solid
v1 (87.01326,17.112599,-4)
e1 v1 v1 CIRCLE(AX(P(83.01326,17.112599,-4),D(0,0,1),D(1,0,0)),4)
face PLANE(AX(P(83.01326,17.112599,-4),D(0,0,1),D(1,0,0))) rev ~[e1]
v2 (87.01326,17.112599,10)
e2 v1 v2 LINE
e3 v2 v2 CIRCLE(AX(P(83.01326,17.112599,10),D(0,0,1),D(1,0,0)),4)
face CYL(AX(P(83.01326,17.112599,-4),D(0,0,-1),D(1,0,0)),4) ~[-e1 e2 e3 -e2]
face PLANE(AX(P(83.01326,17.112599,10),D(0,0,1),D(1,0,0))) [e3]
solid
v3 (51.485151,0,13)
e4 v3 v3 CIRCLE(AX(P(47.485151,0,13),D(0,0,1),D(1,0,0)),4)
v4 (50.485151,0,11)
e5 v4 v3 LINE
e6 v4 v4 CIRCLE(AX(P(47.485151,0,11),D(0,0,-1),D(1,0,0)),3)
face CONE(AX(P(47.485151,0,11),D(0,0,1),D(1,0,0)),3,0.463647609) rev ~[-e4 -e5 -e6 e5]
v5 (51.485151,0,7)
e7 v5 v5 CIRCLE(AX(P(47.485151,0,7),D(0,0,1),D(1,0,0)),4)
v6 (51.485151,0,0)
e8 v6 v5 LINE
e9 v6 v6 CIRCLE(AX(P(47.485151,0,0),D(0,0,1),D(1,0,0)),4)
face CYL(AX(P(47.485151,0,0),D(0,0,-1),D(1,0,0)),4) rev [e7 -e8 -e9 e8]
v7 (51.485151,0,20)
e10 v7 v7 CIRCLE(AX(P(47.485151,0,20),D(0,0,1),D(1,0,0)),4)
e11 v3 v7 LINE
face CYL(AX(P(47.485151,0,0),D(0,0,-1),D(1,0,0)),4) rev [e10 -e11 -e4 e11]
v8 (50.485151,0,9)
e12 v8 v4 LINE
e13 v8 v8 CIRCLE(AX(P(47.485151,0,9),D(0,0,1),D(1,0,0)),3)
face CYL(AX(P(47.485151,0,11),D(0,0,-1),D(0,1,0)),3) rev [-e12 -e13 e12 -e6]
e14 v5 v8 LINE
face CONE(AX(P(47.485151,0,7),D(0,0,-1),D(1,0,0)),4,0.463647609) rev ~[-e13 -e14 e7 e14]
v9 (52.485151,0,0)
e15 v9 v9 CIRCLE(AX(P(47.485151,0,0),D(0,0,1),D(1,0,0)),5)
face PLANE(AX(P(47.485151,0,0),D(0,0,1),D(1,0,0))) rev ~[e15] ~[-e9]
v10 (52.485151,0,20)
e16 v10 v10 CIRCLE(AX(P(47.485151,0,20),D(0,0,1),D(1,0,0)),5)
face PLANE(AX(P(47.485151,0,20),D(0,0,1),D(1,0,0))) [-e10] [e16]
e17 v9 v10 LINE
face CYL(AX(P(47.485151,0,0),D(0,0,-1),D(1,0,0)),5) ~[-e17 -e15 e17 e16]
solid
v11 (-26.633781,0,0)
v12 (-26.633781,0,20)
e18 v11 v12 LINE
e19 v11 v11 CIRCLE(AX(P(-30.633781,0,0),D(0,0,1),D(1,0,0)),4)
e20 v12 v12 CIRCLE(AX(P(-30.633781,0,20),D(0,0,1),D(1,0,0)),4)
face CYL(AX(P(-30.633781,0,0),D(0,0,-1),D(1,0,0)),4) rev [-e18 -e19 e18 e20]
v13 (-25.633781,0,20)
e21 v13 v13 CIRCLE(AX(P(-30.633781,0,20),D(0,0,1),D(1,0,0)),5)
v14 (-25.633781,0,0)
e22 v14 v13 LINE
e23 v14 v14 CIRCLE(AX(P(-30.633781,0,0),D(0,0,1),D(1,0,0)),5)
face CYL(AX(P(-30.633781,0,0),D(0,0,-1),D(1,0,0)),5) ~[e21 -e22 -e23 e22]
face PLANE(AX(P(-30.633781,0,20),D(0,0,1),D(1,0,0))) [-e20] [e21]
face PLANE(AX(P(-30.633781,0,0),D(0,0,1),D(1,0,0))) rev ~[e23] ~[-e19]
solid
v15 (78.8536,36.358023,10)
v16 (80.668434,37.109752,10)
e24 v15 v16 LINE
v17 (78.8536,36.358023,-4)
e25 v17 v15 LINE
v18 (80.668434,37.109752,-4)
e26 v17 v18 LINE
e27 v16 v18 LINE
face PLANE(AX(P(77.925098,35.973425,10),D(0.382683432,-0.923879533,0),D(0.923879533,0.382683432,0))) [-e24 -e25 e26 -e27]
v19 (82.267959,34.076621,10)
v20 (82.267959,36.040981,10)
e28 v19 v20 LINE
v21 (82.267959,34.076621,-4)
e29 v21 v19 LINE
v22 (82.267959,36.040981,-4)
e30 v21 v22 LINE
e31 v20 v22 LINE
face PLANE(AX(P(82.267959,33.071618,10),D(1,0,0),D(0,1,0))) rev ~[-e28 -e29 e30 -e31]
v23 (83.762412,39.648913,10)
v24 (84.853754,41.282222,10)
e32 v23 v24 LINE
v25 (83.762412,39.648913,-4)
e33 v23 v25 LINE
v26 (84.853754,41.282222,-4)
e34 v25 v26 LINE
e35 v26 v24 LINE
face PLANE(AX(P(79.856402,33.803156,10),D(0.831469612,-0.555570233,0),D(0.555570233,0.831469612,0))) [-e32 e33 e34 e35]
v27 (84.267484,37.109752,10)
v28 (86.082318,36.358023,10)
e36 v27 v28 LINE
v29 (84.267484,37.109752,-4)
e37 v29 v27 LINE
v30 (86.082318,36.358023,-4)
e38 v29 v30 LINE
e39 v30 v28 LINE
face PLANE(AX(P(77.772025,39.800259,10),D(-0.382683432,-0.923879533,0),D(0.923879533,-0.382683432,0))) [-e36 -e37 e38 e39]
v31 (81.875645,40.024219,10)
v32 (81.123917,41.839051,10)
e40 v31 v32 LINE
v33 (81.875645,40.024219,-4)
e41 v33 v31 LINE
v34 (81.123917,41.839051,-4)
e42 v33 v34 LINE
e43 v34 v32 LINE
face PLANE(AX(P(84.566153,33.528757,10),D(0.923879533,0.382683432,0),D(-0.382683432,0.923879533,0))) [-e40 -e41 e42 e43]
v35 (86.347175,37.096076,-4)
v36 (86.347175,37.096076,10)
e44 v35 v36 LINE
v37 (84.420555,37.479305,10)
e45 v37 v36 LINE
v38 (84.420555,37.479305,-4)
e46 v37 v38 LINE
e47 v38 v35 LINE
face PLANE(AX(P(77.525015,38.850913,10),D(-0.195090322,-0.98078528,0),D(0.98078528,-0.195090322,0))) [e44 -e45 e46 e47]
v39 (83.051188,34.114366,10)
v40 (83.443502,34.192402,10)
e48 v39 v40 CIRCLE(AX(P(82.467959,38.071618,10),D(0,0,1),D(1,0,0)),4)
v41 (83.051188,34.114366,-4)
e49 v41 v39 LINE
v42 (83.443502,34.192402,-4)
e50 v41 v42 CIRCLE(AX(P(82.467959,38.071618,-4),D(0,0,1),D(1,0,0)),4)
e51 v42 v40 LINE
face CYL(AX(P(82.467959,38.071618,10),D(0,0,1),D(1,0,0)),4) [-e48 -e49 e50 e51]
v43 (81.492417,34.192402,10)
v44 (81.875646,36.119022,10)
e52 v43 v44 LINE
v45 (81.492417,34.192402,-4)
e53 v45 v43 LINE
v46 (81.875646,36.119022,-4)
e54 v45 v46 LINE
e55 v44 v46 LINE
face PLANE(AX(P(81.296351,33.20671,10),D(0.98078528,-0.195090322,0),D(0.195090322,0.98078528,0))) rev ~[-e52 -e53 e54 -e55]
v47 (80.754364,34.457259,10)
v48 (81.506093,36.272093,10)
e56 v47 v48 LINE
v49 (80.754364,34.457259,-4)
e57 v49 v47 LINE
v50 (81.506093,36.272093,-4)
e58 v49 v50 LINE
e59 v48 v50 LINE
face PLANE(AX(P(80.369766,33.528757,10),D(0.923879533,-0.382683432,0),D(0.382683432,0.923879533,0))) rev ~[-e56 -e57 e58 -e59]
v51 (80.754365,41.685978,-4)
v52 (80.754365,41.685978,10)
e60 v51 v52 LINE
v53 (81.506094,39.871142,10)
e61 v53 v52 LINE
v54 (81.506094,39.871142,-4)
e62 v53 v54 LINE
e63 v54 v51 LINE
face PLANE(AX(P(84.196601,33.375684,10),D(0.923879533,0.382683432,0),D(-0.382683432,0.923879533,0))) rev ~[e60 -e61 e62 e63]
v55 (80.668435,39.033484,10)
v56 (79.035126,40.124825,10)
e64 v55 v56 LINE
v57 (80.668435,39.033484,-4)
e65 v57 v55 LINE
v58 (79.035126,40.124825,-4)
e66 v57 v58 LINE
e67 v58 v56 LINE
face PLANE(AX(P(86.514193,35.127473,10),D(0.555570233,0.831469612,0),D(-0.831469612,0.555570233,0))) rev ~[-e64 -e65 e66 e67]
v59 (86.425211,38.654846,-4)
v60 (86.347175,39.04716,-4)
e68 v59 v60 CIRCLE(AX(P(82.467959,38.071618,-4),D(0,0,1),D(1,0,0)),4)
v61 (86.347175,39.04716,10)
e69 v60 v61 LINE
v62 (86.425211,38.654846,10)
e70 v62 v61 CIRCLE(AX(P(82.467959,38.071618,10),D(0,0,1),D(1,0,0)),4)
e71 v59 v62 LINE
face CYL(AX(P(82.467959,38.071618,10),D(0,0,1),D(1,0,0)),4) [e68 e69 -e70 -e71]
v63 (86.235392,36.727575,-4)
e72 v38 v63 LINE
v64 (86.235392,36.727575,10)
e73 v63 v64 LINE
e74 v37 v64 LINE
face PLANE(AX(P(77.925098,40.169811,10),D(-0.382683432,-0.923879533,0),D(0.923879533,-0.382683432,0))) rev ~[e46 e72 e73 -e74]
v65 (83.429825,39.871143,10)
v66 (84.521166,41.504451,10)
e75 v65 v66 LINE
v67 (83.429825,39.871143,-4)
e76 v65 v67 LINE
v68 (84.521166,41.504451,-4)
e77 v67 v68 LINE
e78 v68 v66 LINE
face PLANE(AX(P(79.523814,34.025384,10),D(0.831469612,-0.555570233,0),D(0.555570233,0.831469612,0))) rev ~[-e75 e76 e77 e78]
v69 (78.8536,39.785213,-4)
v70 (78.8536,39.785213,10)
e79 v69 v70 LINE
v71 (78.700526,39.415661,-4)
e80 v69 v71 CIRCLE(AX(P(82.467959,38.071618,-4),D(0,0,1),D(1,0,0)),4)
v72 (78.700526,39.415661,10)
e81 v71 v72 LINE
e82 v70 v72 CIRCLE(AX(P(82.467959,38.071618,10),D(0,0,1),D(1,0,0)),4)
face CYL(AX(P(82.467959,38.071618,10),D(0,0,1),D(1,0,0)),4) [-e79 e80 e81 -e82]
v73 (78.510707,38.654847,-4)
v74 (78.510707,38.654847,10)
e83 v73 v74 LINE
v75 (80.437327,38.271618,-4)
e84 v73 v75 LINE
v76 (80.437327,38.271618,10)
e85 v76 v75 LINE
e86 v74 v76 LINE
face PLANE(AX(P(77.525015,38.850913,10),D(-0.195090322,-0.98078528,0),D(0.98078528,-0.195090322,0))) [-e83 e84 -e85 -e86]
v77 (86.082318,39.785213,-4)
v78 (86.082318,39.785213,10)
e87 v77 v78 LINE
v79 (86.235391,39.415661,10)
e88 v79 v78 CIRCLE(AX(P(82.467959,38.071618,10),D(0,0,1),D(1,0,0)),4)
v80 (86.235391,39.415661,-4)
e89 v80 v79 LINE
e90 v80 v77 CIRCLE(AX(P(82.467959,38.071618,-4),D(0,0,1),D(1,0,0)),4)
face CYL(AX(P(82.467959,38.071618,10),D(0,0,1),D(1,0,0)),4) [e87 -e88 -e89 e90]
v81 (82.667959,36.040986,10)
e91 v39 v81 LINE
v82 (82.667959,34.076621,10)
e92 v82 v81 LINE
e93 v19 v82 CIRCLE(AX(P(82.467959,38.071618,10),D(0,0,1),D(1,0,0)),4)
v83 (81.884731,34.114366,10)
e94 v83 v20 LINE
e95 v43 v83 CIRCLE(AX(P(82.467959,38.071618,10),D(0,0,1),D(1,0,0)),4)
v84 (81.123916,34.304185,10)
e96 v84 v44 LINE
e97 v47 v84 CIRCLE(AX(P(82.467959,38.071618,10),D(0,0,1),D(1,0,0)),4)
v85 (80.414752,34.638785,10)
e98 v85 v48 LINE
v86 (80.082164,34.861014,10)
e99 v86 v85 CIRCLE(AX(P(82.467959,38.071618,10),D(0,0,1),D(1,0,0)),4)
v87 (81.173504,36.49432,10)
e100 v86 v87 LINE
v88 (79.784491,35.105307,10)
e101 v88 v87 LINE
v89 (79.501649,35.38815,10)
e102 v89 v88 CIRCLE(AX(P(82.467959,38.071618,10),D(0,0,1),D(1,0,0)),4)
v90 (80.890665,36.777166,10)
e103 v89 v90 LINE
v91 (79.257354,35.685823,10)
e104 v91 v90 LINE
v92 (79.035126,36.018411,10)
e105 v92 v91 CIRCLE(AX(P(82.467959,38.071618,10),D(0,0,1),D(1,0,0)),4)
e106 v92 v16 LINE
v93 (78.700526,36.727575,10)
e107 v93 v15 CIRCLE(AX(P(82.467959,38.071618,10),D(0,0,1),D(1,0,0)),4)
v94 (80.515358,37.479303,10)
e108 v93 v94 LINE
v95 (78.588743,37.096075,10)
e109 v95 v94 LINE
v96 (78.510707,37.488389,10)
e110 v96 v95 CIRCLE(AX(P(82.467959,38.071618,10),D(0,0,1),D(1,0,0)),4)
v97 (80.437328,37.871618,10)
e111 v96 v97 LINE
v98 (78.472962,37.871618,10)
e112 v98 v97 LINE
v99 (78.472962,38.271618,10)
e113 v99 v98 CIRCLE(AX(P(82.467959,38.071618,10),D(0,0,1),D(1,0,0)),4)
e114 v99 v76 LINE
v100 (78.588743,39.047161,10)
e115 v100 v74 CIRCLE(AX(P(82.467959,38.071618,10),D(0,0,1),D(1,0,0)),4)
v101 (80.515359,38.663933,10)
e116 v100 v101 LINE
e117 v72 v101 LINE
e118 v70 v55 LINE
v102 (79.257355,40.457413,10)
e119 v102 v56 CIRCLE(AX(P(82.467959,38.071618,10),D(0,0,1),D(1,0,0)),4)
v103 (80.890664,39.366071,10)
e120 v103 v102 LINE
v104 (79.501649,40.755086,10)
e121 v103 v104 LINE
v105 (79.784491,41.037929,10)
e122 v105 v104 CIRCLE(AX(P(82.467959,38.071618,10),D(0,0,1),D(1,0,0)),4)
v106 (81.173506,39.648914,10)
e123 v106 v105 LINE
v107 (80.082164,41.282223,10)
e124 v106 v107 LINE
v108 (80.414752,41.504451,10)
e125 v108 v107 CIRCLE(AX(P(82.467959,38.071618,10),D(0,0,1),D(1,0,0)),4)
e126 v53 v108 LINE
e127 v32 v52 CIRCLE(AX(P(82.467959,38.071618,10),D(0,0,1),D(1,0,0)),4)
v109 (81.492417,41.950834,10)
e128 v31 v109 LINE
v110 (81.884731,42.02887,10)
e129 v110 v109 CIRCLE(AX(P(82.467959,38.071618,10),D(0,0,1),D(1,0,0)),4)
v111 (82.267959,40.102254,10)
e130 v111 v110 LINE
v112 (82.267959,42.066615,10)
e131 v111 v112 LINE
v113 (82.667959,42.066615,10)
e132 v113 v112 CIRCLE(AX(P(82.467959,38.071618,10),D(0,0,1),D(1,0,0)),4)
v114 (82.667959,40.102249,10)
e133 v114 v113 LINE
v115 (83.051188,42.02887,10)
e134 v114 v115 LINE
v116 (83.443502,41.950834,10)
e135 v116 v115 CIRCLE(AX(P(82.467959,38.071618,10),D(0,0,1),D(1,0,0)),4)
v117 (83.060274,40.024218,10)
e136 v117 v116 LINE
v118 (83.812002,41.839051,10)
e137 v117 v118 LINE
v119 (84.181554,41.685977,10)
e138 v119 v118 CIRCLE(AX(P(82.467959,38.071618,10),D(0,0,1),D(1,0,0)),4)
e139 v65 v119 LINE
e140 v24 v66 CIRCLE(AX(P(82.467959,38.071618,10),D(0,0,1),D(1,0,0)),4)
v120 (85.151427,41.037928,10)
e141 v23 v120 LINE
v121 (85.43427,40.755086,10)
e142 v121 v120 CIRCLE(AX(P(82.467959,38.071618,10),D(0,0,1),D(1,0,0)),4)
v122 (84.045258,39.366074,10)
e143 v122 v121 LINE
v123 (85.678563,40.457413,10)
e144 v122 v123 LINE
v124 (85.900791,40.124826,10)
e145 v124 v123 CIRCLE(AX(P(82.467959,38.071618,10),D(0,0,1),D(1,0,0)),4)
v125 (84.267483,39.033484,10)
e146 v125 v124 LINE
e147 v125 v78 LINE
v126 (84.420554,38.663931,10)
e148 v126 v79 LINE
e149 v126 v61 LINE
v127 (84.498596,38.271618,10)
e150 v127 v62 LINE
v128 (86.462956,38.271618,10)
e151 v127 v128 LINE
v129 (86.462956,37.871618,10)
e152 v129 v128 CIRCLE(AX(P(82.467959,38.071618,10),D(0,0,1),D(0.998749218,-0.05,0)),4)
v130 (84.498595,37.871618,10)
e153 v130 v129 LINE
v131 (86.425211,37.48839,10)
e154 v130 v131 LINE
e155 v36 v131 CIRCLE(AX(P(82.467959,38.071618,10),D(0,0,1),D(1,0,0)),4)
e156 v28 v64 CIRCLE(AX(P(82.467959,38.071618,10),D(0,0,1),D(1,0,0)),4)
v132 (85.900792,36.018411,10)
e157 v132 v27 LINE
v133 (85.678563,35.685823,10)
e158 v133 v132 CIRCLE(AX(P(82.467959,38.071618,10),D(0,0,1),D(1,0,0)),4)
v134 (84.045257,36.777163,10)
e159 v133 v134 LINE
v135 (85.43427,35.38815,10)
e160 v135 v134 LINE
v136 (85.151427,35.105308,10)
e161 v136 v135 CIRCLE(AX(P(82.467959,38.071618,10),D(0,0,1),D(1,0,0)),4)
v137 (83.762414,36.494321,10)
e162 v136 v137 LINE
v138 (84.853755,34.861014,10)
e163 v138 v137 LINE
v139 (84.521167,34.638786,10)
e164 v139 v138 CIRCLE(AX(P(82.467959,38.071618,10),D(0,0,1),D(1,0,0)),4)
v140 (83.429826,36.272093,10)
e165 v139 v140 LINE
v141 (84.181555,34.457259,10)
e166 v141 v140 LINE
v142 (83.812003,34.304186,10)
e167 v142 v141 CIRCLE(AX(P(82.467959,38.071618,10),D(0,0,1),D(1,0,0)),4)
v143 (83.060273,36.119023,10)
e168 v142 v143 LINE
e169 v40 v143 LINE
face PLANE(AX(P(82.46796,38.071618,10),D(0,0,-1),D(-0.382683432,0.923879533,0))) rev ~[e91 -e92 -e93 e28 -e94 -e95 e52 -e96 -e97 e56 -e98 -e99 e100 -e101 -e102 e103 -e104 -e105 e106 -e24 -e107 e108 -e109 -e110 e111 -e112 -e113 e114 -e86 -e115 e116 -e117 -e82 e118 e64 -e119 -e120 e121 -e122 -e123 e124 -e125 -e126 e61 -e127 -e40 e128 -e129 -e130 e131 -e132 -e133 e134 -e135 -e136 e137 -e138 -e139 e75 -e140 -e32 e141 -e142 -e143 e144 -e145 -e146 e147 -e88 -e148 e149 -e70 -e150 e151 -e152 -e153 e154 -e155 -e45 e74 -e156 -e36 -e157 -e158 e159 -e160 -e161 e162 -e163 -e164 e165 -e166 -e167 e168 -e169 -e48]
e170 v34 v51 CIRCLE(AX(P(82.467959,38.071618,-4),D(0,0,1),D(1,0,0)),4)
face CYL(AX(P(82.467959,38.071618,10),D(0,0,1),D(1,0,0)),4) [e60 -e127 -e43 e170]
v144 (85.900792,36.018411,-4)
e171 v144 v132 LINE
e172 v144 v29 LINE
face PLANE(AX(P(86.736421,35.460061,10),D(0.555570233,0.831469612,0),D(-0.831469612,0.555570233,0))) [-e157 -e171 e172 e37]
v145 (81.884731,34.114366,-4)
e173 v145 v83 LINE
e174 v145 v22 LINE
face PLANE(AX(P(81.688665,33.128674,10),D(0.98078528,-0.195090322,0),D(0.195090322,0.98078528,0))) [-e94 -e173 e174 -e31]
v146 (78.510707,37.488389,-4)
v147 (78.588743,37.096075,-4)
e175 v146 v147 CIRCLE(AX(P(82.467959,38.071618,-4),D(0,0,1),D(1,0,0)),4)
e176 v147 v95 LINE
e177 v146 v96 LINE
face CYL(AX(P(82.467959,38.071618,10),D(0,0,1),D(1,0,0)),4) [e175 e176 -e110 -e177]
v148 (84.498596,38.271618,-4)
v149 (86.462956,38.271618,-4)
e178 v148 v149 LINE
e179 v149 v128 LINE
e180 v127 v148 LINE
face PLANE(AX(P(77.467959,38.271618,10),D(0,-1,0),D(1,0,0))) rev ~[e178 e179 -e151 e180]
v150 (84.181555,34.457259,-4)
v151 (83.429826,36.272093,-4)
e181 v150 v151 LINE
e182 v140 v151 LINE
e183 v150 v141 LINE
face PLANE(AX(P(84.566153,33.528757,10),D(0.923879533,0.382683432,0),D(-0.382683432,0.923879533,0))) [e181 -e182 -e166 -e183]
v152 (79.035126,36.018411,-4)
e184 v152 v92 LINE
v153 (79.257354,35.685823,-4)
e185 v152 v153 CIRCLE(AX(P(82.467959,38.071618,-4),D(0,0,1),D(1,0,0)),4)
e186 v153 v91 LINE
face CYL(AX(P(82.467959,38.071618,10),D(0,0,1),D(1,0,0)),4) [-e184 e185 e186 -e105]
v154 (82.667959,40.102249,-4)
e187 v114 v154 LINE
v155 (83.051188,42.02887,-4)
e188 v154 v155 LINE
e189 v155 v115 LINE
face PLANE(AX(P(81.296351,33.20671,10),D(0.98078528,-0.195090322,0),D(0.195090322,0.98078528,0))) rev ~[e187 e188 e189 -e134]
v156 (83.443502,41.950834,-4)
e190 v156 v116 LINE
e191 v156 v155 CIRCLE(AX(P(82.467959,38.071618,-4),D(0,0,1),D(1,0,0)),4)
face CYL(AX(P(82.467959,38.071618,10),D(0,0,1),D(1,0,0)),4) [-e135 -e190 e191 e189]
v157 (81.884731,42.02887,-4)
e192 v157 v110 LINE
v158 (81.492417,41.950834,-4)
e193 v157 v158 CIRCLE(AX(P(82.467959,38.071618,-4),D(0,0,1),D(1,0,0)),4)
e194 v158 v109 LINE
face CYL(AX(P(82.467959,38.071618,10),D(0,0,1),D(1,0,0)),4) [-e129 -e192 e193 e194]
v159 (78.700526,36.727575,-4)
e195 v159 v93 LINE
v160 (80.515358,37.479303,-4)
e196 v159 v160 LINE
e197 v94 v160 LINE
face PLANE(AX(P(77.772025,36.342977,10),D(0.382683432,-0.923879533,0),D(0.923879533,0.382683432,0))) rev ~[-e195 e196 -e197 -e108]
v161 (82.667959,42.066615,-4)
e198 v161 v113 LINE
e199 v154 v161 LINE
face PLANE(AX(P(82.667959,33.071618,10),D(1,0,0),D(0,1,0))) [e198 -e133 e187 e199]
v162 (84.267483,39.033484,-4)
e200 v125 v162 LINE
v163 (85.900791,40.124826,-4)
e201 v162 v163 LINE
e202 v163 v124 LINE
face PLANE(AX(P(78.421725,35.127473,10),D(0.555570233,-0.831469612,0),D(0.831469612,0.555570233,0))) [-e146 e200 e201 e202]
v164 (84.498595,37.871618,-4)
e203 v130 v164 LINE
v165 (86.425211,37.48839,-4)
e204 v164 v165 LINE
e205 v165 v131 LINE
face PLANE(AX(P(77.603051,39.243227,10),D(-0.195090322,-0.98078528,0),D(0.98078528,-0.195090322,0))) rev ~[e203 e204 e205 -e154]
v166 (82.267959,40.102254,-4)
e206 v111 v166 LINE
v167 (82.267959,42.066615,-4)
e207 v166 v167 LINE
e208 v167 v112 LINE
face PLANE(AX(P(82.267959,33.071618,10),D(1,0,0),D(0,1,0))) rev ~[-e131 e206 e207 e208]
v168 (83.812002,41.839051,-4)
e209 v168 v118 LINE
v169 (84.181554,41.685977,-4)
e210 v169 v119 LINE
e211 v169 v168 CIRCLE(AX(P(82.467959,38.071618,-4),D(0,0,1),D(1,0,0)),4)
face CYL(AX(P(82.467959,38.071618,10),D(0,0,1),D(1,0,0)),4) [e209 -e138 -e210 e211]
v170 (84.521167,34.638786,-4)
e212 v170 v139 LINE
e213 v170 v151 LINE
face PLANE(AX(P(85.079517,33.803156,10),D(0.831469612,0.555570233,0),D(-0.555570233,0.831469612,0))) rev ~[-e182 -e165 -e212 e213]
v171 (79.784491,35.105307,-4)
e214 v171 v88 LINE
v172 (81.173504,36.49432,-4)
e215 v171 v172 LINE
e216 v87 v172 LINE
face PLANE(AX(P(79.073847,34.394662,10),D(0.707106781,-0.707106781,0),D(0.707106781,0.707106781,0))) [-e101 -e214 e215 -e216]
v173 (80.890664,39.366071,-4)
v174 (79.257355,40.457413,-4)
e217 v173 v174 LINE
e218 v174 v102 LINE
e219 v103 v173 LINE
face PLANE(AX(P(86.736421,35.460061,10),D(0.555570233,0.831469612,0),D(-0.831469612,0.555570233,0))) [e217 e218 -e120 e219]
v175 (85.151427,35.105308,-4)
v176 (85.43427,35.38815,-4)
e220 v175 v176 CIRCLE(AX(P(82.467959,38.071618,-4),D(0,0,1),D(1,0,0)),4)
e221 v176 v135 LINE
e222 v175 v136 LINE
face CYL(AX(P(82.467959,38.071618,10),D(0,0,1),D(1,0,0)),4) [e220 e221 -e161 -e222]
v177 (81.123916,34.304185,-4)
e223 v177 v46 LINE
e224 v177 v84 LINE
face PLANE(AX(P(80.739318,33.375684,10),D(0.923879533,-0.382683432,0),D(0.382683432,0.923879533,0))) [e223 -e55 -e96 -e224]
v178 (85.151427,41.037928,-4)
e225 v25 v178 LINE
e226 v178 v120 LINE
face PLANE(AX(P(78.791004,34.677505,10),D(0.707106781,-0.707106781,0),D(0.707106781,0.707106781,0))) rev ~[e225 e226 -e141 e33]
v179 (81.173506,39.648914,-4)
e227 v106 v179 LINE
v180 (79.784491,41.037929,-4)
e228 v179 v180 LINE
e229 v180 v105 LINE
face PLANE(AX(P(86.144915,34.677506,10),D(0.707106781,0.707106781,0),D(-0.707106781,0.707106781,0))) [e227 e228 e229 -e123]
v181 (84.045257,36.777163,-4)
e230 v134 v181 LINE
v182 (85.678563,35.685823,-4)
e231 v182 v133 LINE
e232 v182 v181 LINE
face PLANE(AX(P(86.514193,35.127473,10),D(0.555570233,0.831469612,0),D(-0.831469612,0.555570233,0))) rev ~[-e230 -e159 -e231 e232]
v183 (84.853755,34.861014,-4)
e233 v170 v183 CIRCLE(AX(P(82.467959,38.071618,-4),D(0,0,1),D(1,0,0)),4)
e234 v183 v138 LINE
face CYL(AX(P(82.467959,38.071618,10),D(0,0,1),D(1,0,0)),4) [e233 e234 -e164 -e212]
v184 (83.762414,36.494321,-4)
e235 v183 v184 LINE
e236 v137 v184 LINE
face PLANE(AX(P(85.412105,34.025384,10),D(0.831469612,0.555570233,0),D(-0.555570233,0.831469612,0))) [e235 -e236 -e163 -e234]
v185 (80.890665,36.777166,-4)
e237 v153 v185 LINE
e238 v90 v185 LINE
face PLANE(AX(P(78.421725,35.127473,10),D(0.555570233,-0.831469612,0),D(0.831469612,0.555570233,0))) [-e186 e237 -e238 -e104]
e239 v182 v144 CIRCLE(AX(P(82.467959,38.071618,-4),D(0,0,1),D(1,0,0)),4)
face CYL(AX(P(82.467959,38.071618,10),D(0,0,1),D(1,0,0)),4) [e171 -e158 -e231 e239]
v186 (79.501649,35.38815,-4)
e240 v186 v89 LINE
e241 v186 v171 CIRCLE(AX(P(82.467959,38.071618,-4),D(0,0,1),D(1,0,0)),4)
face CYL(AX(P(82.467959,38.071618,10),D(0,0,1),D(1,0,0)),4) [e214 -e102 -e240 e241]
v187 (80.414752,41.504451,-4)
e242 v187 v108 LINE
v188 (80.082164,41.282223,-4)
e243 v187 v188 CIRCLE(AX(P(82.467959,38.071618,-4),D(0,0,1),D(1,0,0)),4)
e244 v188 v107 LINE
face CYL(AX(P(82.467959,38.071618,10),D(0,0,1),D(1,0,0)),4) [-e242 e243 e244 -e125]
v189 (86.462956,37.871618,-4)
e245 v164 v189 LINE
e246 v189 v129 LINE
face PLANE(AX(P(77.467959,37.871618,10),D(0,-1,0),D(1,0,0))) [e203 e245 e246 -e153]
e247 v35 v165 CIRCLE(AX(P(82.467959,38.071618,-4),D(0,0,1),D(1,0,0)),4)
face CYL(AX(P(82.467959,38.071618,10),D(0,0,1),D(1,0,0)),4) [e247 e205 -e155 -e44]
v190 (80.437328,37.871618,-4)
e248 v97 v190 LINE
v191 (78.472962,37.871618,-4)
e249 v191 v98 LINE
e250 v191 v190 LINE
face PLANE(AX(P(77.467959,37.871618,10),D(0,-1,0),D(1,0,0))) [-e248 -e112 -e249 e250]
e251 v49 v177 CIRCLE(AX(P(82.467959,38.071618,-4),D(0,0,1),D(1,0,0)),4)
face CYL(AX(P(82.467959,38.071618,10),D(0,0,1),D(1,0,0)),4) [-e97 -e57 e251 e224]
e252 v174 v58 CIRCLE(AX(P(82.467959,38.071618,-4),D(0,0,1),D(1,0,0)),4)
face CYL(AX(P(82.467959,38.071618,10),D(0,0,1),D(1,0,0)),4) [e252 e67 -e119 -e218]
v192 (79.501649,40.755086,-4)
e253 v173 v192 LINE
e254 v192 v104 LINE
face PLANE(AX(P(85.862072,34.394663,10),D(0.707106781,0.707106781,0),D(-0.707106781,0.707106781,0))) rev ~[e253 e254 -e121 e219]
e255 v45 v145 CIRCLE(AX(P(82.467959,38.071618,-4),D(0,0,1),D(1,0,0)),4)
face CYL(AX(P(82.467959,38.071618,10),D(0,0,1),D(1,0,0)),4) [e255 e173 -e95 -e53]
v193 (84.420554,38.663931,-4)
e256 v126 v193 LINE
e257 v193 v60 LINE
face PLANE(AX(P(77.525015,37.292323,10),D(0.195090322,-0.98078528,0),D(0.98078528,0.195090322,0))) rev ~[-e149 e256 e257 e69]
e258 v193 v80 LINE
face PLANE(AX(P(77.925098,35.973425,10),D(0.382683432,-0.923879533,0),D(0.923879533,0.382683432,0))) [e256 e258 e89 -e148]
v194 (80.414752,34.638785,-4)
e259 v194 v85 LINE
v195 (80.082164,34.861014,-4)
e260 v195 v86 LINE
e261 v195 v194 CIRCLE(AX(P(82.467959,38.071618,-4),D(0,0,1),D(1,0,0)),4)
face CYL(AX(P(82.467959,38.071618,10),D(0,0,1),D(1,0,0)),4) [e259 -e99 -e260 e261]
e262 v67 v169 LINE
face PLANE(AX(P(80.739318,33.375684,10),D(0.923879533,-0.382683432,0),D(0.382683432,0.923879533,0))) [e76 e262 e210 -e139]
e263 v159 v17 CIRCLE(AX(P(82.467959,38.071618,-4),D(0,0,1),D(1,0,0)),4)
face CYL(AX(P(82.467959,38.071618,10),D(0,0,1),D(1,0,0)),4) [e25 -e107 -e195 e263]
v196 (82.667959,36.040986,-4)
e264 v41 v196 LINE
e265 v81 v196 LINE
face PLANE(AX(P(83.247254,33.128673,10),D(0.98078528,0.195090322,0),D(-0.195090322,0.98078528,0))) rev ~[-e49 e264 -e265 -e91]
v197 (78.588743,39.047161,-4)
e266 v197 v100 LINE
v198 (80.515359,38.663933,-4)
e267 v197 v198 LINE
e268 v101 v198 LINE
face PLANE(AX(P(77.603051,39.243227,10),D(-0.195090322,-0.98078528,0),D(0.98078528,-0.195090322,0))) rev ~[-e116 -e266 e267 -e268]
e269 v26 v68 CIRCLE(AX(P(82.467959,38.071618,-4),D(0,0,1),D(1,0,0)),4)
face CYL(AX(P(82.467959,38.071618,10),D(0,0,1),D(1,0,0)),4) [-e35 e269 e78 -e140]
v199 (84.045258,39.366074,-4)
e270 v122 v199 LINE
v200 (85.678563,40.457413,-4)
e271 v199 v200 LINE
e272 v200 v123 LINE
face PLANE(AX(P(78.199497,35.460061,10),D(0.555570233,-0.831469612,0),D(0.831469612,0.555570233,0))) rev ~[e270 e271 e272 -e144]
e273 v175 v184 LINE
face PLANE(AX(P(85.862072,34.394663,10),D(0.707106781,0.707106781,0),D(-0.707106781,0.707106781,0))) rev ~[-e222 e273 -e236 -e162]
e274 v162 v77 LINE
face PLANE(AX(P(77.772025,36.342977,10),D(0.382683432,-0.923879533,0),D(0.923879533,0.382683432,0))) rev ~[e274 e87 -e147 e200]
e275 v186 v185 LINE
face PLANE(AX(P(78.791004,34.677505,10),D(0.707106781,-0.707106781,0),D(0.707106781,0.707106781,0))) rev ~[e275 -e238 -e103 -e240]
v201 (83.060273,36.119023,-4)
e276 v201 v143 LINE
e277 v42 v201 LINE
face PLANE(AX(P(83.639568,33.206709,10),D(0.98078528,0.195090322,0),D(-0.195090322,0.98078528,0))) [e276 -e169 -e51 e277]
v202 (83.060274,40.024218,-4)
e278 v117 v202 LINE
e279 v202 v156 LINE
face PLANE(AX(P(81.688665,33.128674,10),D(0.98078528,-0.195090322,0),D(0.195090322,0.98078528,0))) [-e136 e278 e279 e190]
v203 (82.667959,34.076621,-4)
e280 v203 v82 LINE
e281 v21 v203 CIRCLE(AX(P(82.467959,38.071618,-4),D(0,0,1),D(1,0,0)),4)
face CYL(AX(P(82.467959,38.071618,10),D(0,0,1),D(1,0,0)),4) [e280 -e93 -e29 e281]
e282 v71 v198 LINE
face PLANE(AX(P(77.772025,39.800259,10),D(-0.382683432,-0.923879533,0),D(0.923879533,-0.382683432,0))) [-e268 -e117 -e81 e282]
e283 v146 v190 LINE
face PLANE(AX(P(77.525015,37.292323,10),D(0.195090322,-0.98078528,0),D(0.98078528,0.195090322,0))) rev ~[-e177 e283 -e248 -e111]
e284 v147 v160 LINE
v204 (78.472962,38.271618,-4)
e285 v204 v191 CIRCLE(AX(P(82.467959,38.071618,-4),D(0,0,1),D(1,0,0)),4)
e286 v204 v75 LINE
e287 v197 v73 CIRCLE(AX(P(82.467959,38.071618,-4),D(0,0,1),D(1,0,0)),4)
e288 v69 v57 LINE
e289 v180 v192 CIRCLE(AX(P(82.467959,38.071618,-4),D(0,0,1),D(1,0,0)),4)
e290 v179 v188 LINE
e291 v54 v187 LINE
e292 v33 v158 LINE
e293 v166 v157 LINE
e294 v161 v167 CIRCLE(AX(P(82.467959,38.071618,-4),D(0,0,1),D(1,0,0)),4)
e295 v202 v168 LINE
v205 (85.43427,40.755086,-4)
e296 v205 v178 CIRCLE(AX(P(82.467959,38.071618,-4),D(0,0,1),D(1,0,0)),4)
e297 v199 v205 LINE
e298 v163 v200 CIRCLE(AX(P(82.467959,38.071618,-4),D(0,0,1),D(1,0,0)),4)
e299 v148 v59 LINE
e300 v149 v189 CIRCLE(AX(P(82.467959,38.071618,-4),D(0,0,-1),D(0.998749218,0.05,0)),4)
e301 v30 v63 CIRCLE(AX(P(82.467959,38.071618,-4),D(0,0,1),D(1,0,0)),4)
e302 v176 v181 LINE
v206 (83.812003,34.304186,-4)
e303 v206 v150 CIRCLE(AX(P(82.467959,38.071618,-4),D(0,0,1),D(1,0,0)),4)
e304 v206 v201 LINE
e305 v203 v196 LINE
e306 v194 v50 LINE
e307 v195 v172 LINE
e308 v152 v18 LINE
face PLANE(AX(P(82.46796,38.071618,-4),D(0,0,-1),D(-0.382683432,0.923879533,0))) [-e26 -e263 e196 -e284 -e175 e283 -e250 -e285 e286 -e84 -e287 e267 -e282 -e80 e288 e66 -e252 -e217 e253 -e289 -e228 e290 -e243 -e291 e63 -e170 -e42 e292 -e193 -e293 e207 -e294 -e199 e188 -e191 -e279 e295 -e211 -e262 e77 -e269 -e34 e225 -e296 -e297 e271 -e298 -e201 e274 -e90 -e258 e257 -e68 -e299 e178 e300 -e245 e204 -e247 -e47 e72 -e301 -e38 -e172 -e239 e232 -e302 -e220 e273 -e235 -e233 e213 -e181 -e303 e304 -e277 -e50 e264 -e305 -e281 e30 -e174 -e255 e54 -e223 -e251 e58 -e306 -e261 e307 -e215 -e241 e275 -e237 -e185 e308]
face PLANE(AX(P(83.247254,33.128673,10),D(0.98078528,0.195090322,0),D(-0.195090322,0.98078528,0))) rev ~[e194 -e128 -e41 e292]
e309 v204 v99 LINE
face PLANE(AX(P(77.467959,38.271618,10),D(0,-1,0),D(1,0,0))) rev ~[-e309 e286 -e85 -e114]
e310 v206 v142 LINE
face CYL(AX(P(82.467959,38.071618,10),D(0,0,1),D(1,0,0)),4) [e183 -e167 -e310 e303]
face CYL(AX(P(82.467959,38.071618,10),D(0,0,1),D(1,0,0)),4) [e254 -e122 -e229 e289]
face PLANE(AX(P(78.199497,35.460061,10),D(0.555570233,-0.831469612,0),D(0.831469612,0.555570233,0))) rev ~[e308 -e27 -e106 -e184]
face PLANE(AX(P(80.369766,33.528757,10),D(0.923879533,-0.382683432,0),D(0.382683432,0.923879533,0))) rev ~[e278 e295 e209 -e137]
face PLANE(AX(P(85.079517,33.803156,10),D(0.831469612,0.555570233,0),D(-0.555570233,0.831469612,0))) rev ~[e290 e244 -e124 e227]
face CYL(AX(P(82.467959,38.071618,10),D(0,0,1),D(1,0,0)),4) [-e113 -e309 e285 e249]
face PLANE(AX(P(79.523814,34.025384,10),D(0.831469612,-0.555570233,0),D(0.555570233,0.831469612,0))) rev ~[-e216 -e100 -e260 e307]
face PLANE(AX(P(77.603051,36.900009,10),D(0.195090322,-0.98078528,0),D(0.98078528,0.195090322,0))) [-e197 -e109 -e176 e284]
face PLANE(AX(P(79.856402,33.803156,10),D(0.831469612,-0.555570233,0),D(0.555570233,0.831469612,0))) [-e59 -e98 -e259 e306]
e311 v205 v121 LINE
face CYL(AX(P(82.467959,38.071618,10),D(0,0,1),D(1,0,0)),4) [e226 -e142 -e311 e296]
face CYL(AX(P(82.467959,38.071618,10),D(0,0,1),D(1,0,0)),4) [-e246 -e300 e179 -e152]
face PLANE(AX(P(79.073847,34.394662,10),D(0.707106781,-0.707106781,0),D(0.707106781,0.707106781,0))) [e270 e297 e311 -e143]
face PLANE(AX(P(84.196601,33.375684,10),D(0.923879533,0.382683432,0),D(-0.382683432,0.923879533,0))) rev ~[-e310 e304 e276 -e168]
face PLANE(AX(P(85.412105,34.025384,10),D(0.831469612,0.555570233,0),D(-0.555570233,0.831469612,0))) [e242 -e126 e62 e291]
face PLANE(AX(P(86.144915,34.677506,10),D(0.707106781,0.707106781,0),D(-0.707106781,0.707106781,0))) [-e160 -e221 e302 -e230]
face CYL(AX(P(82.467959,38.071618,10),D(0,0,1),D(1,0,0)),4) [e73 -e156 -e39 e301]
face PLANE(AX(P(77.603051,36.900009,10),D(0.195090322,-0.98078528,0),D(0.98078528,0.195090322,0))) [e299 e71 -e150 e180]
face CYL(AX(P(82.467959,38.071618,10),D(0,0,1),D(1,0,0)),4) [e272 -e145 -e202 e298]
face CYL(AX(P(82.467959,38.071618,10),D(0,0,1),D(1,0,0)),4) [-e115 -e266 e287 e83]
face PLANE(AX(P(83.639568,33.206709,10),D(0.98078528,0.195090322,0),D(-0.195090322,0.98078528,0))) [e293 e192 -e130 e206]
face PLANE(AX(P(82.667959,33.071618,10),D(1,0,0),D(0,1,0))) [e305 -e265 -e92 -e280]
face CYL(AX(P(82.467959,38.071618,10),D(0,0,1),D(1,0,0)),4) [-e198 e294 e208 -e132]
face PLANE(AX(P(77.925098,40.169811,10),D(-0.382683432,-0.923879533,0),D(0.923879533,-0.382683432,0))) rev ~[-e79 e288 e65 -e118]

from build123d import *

# Parameters (mm, degrees)
CYLINDER_R                                     = 4
CYLINDER_DEPTH                                 = 14
TUBE_R                                         = 5
TUBE_R_2                                       = 4
TUBE_DEPTH                                     = 20
FACE_R                                         = 4
FACE_R_2                                       = 3
EXTRUSION_DEPTH                                = 2
CYLINDER002_R                                  = 3
CYLINDER002_DEPTH                              = 10
CYLINDER001_R                                  = 4
CYLINDER001_DEPTH                              = 4
TUBE001_R                                      = 5
TUBE001_R_2                                    = 4
TUBE001_DEPTH                                  = 20
CIRCLE_R                                       = 4
EXTRUSION017_DEPTH                             = 23.367784
CIRCLE001_R                                    = 11.743192
EXTRUSION018_DEPTH                             = 23.367784
RECTANGLE002_W                                 = 10
RECTANGLE002_H                                 = 0.4
EXTRUSION007_DEPTH                             = 14
RECTANGLE011_AS_DRAWN_W                        = 10
RECTANGLE011_AS_DRAWN_H                        = 0.4
EXTRUSION008_DEPTH                             = 14
EXTRUSION008_ONTO_RECTANGLE011_ROLL_ANGLE      = 180
EXTRUSION008_ONTO_RECTANGLE011_PLACEMENT_ANGLE = 78.75
RECTANGLE006_AS_DRAWN_W                        = 10
RECTANGLE006_AS_DRAWN_H                        = 0.4
EXTRUSION009_DEPTH                             = 14
EXTRUSION009_ONTO_RECTANGLE006_ROLL_ANGLE      = 180
EXTRUSION009_ONTO_RECTANGLE006_PLACEMENT_ANGLE = 67.5
RECTANGLE010_AS_DRAWN_W                        = 10
RECTANGLE010_AS_DRAWN_H                        = 0.4
EXTRUSION010_DEPTH                             = 14
EXTRUSION010_ONTO_RECTANGLE010_ROLL_ANGLE      = 180
EXTRUSION010_ONTO_RECTANGLE010_PLACEMENT_ANGLE = 56.25
RECTANGLE003_AS_DRAWN_W                        = 10
RECTANGLE003_AS_DRAWN_H                        = 0.4
EXTRUSION011_DEPTH                             = 14
EXTRUSION011_ONTO_RECTANGLE003_ROLL_ANGLE      = 180
EXTRUSION011_ONTO_RECTANGLE003_PLACEMENT_ANGLE = 45
RECTANGLE009_AS_DRAWN_W                        = 10
RECTANGLE009_AS_DRAWN_H                        = 0.4
EXTRUSION016_DEPTH                             = 14
EXTRUSION016_ONTO_RECTANGLE009_ROLL_ANGLE      = 180
EXTRUSION016_ONTO_RECTANGLE009_PLACEMENT_ANGLE = 33.75
RECTANGLE005_AS_DRAWN_W                        = 10
RECTANGLE005_AS_DRAWN_H                        = 0.4
EXTRUSION015_DEPTH                             = 14
EXTRUSION015_ONTO_RECTANGLE005_ROLL_ANGLE      = 180
EXTRUSION015_ONTO_RECTANGLE005_PLACEMENT_ANGLE = 22.5
RECTANGLE015_AS_DRAWN_W                        = 10
RECTANGLE015_AS_DRAWN_H                        = 0.4
EXTRUSION014_DEPTH                             = 14
EXTRUSION014_ONTO_RECTANGLE015_ROLL_ANGLE      = 180
EXTRUSION014_ONTO_RECTANGLE015_PLACEMENT_ANGLE = 11.25
RECTANGLE017_W                                 = 10
RECTANGLE017_H                                 = 0.4
EXTRUSION013_DEPTH                             = 14
RECTANGLE016_AS_DRAWN_W                        = 10
RECTANGLE016_AS_DRAWN_H                        = 0.4
EXTRUSION012_DEPTH                             = 14
EXTRUSION012_ONTO_RECTANGLE016_ROLL_ANGLE      = 180
EXTRUSION012_ONTO_RECTANGLE016_PLACEMENT_ANGLE = -11.25
RECTANGLE008_AS_DRAWN_W                        = 10
RECTANGLE008_AS_DRAWN_H                        = 0.4
EXTRUSION001_DEPTH                             = 14
EXTRUSION001_ONTO_RECTANGLE008_ROLL_ANGLE      = 180
EXTRUSION001_ONTO_RECTANGLE008_PLACEMENT_ANGLE = -22.5
RECTANGLE014_AS_DRAWN_W                        = 10
RECTANGLE014_AS_DRAWN_H                        = 0.4
EXTRUSION002_DEPTH                             = 14
EXTRUSION002_ONTO_RECTANGLE014_ROLL_ANGLE      = 180
EXTRUSION002_ONTO_RECTANGLE014_PLACEMENT_ANGLE = 146.25
RECTANGLE004_AS_DRAWN_W                        = 10
RECTANGLE004_AS_DRAWN_H                        = 0.4
EXTRUSION003_DEPTH                             = 14
EXTRUSION003_ONTO_RECTANGLE004_ROLL_ANGLE      = 180
EXTRUSION003_ONTO_RECTANGLE004_PLACEMENT_ANGLE = 135
RECTANGLE013_AS_DRAWN_W                        = 10
RECTANGLE013_AS_DRAWN_H                        = 0.4
EXTRUSION004_DEPTH                             = 14
EXTRUSION004_ONTO_RECTANGLE013_ROLL_ANGLE      = 180
EXTRUSION004_ONTO_RECTANGLE013_PLACEMENT_ANGLE = 123.75
RECTANGLE007_AS_DRAWN_W                        = 10
RECTANGLE007_AS_DRAWN_H                        = 0.4
EXTRUSION005_DEPTH                             = 14
EXTRUSION005_ONTO_RECTANGLE007_ROLL_ANGLE      = 180
EXTRUSION005_ONTO_RECTANGLE007_PLACEMENT_ANGLE = 112.5
RECTANGLE012_AS_DRAWN_W                        = 10
RECTANGLE012_AS_DRAWN_H                        = 0.4
EXTRUSION006_DEPTH                             = 14
EXTRUSION006_ONTO_RECTANGLE012_ROLL_ANGLE      = 180
EXTRUSION006_ONTO_RECTANGLE012_PLACEMENT_ANGLE = 101.25


with BuildPart() as cylinder:
    # Cylinder → Cylinder (new body)
    with BuildSketch(Plane(origin=(83.01326, 17.112599, -4), x_dir=(1, 0, 0), z_dir=(0, 0, 1))):
        Circle(CYLINDER_R)
    extrude(amount=CYLINDER_DEPTH)


with BuildPart() as tube:
    # Tube → Tube (new body)
    with BuildSketch(Plane(origin=(-30.633781, 0, 0), x_dir=(1, 0, 0), z_dir=(0, 0, 1))):
        Circle(TUBE_R)
        Circle(TUBE_R_2, mode=Mode.SUBTRACT)
    extrude(amount=TUBE_DEPTH)


with BuildPart() as cone:
    # Cone → Cone (revolve)
    with BuildSketch(Plane(origin=(25.92169, 0, 0), x_dir=(1, 0, 0), z_dir=(0, -1, 0))):
        Polygon((0, 0), (4, 0), (3, 2), (0, 2), align=None)
    revolve(axis=Axis((25.92169, 0, 0), (0, 0, 1)))


with BuildPart() as cone001:
    # Cone001 → Cone001 (revolve)
    with BuildSketch(Plane(origin=(25.92169, 0, 4), x_dir=(1, 0, 0), z_dir=(0, -1, 0))):
        Polygon((0, 0), (3, 0), (4, 2), (0, 2), align=None)
    revolve(axis=Axis((25.92169, 0, 4), (0, 0, 1)))


with BuildPart() as extrusion:
    # Face → Extrusion (new body)
    with BuildSketch(Plane(origin=(25.92169, 0, 4), x_dir=(0, 1, 0), z_dir=(0, 0, 1))):
        Circle(FACE_R)
        Circle(FACE_R_2, mode=Mode.SUBTRACT)
    extrude(amount=EXTRUSION_DEPTH)


with BuildPart() as cylinder002:
    # Cylinder002 → Cylinder002 (new body)
    with BuildSketch(Plane(origin=(25.92169, 0, 0), x_dir=(1, 0, 0), z_dir=(0, 0, 1))):
        Circle(CYLINDER002_R)
    extrude(amount=CYLINDER002_DEPTH)


with BuildPart() as cut002001:
    # Cylinder001 → Cylinder001 (new body)
    with BuildSketch(Plane(origin=(25.92169, 0, 0), x_dir=(1, 0, 0), z_dir=(0, 0, 1))):
        Circle(CYLINDER001_R)
    extrude(amount=CYLINDER001_DEPTH)

    # Cut: cut Cylinder002
    add(cylinder002.part, mode=Mode.SUBTRACT)

    # Fusion: union Extrusion
    add(extrusion.part)

    # Cut001: cut Cone001
    add(cone001.part, mode=Mode.SUBTRACT)

    # Cut002: cut Cone
    add(cone.part, mode=Mode.SUBTRACT)


with BuildPart() as cut002001_1:
    # Cut002001 placement: moved
    add(cut002001.part.moved(Location((21.563461, 0, 7))))


with BuildPart() as fusion001:
    # Tube001 → Tube001 (new body)
    with BuildSketch(Plane(origin=(47.485151, 0, 0), x_dir=(1, 0, 0), z_dir=(0, 0, 1))):
        Circle(TUBE001_R)
        Circle(TUBE001_R_2, mode=Mode.SUBTRACT)
    extrude(amount=TUBE001_DEPTH)

    # Fusion001: union Cut002001
    add(cut002001_1.part)


with BuildPart() as extrusion017:
    # Circle → Extrusion017 (new body)
    with BuildSketch(Plane(origin=(82.467959, 38.071618, 10), x_dir=(1, 0, 0), z_dir=(0, 0, 1))):
        Circle(CIRCLE_R)
    extrude(amount=-EXTRUSION017_DEPTH)


with BuildPart() as cut002002:
    # Circle001 → Extrusion018 (new body)
    with BuildSketch(Plane(origin=(82.467959, 38.071618, 10), x_dir=(1, 0, 0), z_dir=(0, 0, 1))):
        Circle(CIRCLE001_R)
    extrude(amount=-EXTRUSION018_DEPTH)

    # Cut002002: cut Extrusion017
    add(extrusion017.part, mode=Mode.SUBTRACT)


with BuildPart() as extrusion007:
    # Rectangle002 → Extrusion007 (new body)
    with BuildSketch(Plane(origin=(82.267959, 33.071618, 10), x_dir=(0, 1, 0), z_dir=(0, 0, -1))):
        with Locations((5, 0.2)):
            Rectangle(RECTANGLE002_W, RECTANGLE002_H)
    extrude(amount=EXTRUSION007_DEPTH)


with BuildPart() as extrusion008:
    # Rectangle011 as drawn → Extrusion008 (new)
    with BuildSketch(Plane.XY):
        with Locations((5, 0.2)):
            Rectangle(RECTANGLE011_AS_DRAWN_W, RECTANGLE011_AS_DRAWN_H)
    extrude(amount=EXTRUSION008_DEPTH)


with BuildPart() as extrusion008_1:
    # Extrusion008 onto Rectangle011 roll: moved
    add(extrusion008.part.rotate(Axis((0, 0, 0), (1, 0, 0)), EXTRUSION008_ONTO_RECTANGLE011_ROLL_ANGLE))


with BuildPart() as extrusion008_2:
    # Extrusion008 onto Rectangle011 placement: moved
    add(extrusion008_1.part.moved(Location((81.296351, 33.20671, 10))).rotate(Axis((81.296351, 33.20671, 10), (0, 0, 1)), EXTRUSION008_ONTO_RECTANGLE011_PLACEMENT_ANGLE))


with BuildPart() as extrusion009:
    # Rectangle006 as drawn → Extrusion009 (new)
    with BuildSketch(Plane.XY):
        with Locations((5, 0.2)):
            Rectangle(RECTANGLE006_AS_DRAWN_W, RECTANGLE006_AS_DRAWN_H)
    extrude(amount=EXTRUSION009_DEPTH)


with BuildPart() as extrusion009_1:
    # Extrusion009 onto Rectangle006 roll: moved
    add(extrusion009.part.rotate(Axis((0, 0, 0), (1, 0, 0)), EXTRUSION009_ONTO_RECTANGLE006_ROLL_ANGLE))


with BuildPart() as extrusion009_2:
    # Extrusion009 onto Rectangle006 placement: moved
    add(extrusion009_1.part.moved(Location((80.369766, 33.528757, 10))).rotate(Axis((80.369766, 33.528757, 10), (0, 0, 1)), EXTRUSION009_ONTO_RECTANGLE006_PLACEMENT_ANGLE))


with BuildPart() as extrusion010:
    # Rectangle010 as drawn → Extrusion010 (new)
    with BuildSketch(Plane.XY):
        with Locations((5, 0.2)):
            Rectangle(RECTANGLE010_AS_DRAWN_W, RECTANGLE010_AS_DRAWN_H)
    extrude(amount=EXTRUSION010_DEPTH)


with BuildPart() as extrusion010_1:
    # Extrusion010 onto Rectangle010 roll: moved
    add(extrusion010.part.rotate(Axis((0, 0, 0), (1, 0, 0)), EXTRUSION010_ONTO_RECTANGLE010_ROLL_ANGLE))


with BuildPart() as extrusion010_2:
    # Extrusion010 onto Rectangle010 placement: moved
    add(extrusion010_1.part.moved(Location((79.523814, 34.025384, 10))).rotate(Axis((79.523814, 34.025384, 10), (0, 0, 1)), EXTRUSION010_ONTO_RECTANGLE010_PLACEMENT_ANGLE))


with BuildPart() as extrusion011:
    # Rectangle003 as drawn → Extrusion011 (new)
    with BuildSketch(Plane.XY):
        with Locations((5, 0.2)):
            Rectangle(RECTANGLE003_AS_DRAWN_W, RECTANGLE003_AS_DRAWN_H)
    extrude(amount=EXTRUSION011_DEPTH)


with BuildPart() as extrusion011_1:
    # Extrusion011 onto Rectangle003 roll: moved
    add(extrusion011.part.rotate(Axis((0, 0, 0), (1, 0, 0)), EXTRUSION011_ONTO_RECTANGLE003_ROLL_ANGLE))


with BuildPart() as extrusion011_2:
    # Extrusion011 onto Rectangle003 placement: moved
    add(extrusion011_1.part.moved(Location((78.791004, 34.677505, 10))).rotate(Axis((78.791004, 34.677505, 10), (0, 0, 1)), EXTRUSION011_ONTO_RECTANGLE003_PLACEMENT_ANGLE))


with BuildPart() as extrusion016:
    # Rectangle009 as drawn → Extrusion016 (new)
    with BuildSketch(Plane.XY):
        with Locations((5, 0.2)):
            Rectangle(RECTANGLE009_AS_DRAWN_W, RECTANGLE009_AS_DRAWN_H)
    extrude(amount=EXTRUSION016_DEPTH)


with BuildPart() as extrusion016_1:
    # Extrusion016 onto Rectangle009 roll: moved
    add(extrusion016.part.rotate(Axis((0, 0, 0), (1, 0, 0)), EXTRUSION016_ONTO_RECTANGLE009_ROLL_ANGLE))


with BuildPart() as extrusion016_2:
    # Extrusion016 onto Rectangle009 placement: moved
    add(extrusion016_1.part.moved(Location((78.199497, 35.460061, 10))).rotate(Axis((78.199497, 35.460061, 10), (0, 0, 1)), EXTRUSION016_ONTO_RECTANGLE009_PLACEMENT_ANGLE))


with BuildPart() as extrusion015:
    # Rectangle005 as drawn → Extrusion015 (new)
    with BuildSketch(Plane.XY):
        with Locations((5, 0.2)):
            Rectangle(RECTANGLE005_AS_DRAWN_W, RECTANGLE005_AS_DRAWN_H)
    extrude(amount=EXTRUSION015_DEPTH)


with BuildPart() as extrusion015_1:
    # Extrusion015 onto Rectangle005 roll: moved
    add(extrusion015.part.rotate(Axis((0, 0, 0), (1, 0, 0)), EXTRUSION015_ONTO_RECTANGLE005_ROLL_ANGLE))


with BuildPart() as extrusion015_2:
    # Extrusion015 onto Rectangle005 placement: moved
    add(extrusion015_1.part.moved(Location((77.772025, 36.342977, 10))).rotate(Axis((77.772025, 36.342977, 10), (0, 0, 1)), EXTRUSION015_ONTO_RECTANGLE005_PLACEMENT_ANGLE))


with BuildPart() as extrusion014:
    # Rectangle015 as drawn → Extrusion014 (new)
    with BuildSketch(Plane.XY):
        with Locations((5, 0.2)):
            Rectangle(RECTANGLE015_AS_DRAWN_W, RECTANGLE015_AS_DRAWN_H)
    extrude(amount=EXTRUSION014_DEPTH)


with BuildPart() as extrusion014_1:
    # Extrusion014 onto Rectangle015 roll: moved
    add(extrusion014.part.rotate(Axis((0, 0, 0), (1, 0, 0)), EXTRUSION014_ONTO_RECTANGLE015_ROLL_ANGLE))


with BuildPart() as extrusion014_2:
    # Extrusion014 onto Rectangle015 placement: moved
    add(extrusion014_1.part.moved(Location((77.525015, 37.292323, 10))).rotate(Axis((77.525015, 37.292323, 10), (0, 0, 1)), EXTRUSION014_ONTO_RECTANGLE015_PLACEMENT_ANGLE))


with BuildPart() as extrusion013:
    # Rectangle017 → Extrusion013 (new body)
    with BuildSketch(Plane(origin=(77.467959, 38.271618, 10), x_dir=(1, 0, 0), z_dir=(0, 0, -1))):
        with Locations((5, 0.2)):
            Rectangle(RECTANGLE017_W, RECTANGLE017_H)
    extrude(amount=EXTRUSION013_DEPTH)


with BuildPart() as extrusion012:
    # Rectangle016 as drawn → Extrusion012 (new)
    with BuildSketch(Plane.XY):
        with Locations((5, 0.2)):
            Rectangle(RECTANGLE016_AS_DRAWN_W, RECTANGLE016_AS_DRAWN_H)
    extrude(amount=EXTRUSION012_DEPTH)


with BuildPart() as extrusion012_1:
    # Extrusion012 onto Rectangle016 roll: moved
    add(extrusion012.part.rotate(Axis((0, 0, 0), (1, 0, 0)), EXTRUSION012_ONTO_RECTANGLE016_ROLL_ANGLE))


with BuildPart() as extrusion012_2:
    # Extrusion012 onto Rectangle016 placement: moved
    add(extrusion012_1.part.moved(Location((77.603051, 39.243227, 10))).rotate(Axis((77.603051, 39.243227, 10), (0, 0, 1)), EXTRUSION012_ONTO_RECTANGLE016_PLACEMENT_ANGLE))


with BuildPart() as extrusion001:
    # Rectangle008 as drawn → Extrusion001 (new)
    with BuildSketch(Plane.XY):
        with Locations((5, 0.2)):
            Rectangle(RECTANGLE008_AS_DRAWN_W, RECTANGLE008_AS_DRAWN_H)
    extrude(amount=EXTRUSION001_DEPTH)


with BuildPart() as extrusion001_1:
    # Extrusion001 onto Rectangle008 roll: moved
    add(extrusion001.part.rotate(Axis((0, 0, 0), (1, 0, 0)), EXTRUSION001_ONTO_RECTANGLE008_ROLL_ANGLE))


with BuildPart() as extrusion001_2:
    # Extrusion001 onto Rectangle008 placement: moved
    add(extrusion001_1.part.moved(Location((77.925098, 40.169811, 10))).rotate(Axis((77.925098, 40.169811, 10), (0, 0, 1)), EXTRUSION001_ONTO_RECTANGLE008_PLACEMENT_ANGLE))


with BuildPart() as extrusion002:
    # Rectangle014 as drawn → Extrusion002 (new)
    with BuildSketch(Plane.XY):
        with Locations((5, 0.2)):
            Rectangle(RECTANGLE014_AS_DRAWN_W, RECTANGLE014_AS_DRAWN_H)
    extrude(amount=EXTRUSION002_DEPTH)


with BuildPart() as extrusion002_1:
    # Extrusion002 onto Rectangle014 roll: moved
    add(extrusion002.part.rotate(Axis((0, 0, 0), (1, 0, 0)), EXTRUSION002_ONTO_RECTANGLE014_ROLL_ANGLE))


with BuildPart() as extrusion002_2:
    # Extrusion002 onto Rectangle014 placement: moved
    add(extrusion002_1.part.moved(Location((86.514193, 35.127473, 10))).rotate(Axis((86.514193, 35.127473, 10), (0, 0, 1)), EXTRUSION002_ONTO_RECTANGLE014_PLACEMENT_ANGLE))


with BuildPart() as extrusion003:
    # Rectangle004 as drawn → Extrusion003 (new)
    with BuildSketch(Plane.XY):
        with Locations((5, 0.2)):
            Rectangle(RECTANGLE004_AS_DRAWN_W, RECTANGLE004_AS_DRAWN_H)
    extrude(amount=EXTRUSION003_DEPTH)


with BuildPart() as extrusion003_1:
    # Extrusion003 onto Rectangle004 roll: moved
    add(extrusion003.part.rotate(Axis((0, 0, 0), (1, 0, 0)), EXTRUSION003_ONTO_RECTANGLE004_ROLL_ANGLE))


with BuildPart() as extrusion003_2:
    # Extrusion003 onto Rectangle004 placement: moved
    add(extrusion003_1.part.moved(Location((85.862072, 34.394663, 10))).rotate(Axis((85.862072, 34.394663, 10), (0, 0, 1)), EXTRUSION003_ONTO_RECTANGLE004_PLACEMENT_ANGLE))


with BuildPart() as extrusion004:
    # Rectangle013 as drawn → Extrusion004 (new)
    with BuildSketch(Plane.XY):
        with Locations((5, 0.2)):
            Rectangle(RECTANGLE013_AS_DRAWN_W, RECTANGLE013_AS_DRAWN_H)
    extrude(amount=EXTRUSION004_DEPTH)


with BuildPart() as extrusion004_1:
    # Extrusion004 onto Rectangle013 roll: moved
    add(extrusion004.part.rotate(Axis((0, 0, 0), (1, 0, 0)), EXTRUSION004_ONTO_RECTANGLE013_ROLL_ANGLE))


with BuildPart() as extrusion004_2:
    # Extrusion004 onto Rectangle013 placement: moved
    add(extrusion004_1.part.moved(Location((85.079517, 33.803156, 10))).rotate(Axis((85.079517, 33.803156, 10), (0, 0, 1)), EXTRUSION004_ONTO_RECTANGLE013_PLACEMENT_ANGLE))


with BuildPart() as extrusion005:
    # Rectangle007 as drawn → Extrusion005 (new)
    with BuildSketch(Plane.XY):
        with Locations((5, 0.2)):
            Rectangle(RECTANGLE007_AS_DRAWN_W, RECTANGLE007_AS_DRAWN_H)
    extrude(amount=EXTRUSION005_DEPTH)


with BuildPart() as extrusion005_1:
    # Extrusion005 onto Rectangle007 roll: moved
    add(extrusion005.part.rotate(Axis((0, 0, 0), (1, 0, 0)), EXTRUSION005_ONTO_RECTANGLE007_ROLL_ANGLE))


with BuildPart() as extrusion005_2:
    # Extrusion005 onto Rectangle007 placement: moved
    add(extrusion005_1.part.moved(Location((84.196601, 33.375684, 10))).rotate(Axis((84.196601, 33.375684, 10), (0, 0, 1)), EXTRUSION005_ONTO_RECTANGLE007_PLACEMENT_ANGLE))


with BuildPart() as cut002003:
    # Rectangle012 as drawn → Extrusion006 (new)
    with BuildSketch(Plane.XY):
        with Locations((5, 0.2)):
            Rectangle(RECTANGLE012_AS_DRAWN_W, RECTANGLE012_AS_DRAWN_H)
    extrude(amount=EXTRUSION006_DEPTH)


with BuildPart() as cut002003_1:
    # Extrusion006 onto Rectangle012 roll: moved
    add(cut002003.part.rotate(Axis((0, 0, 0), (1, 0, 0)), EXTRUSION006_ONTO_RECTANGLE012_ROLL_ANGLE))


with BuildPart() as cut002003_2:
    # Extrusion006 onto Rectangle012 placement: moved
    add(cut002003_1.part.moved(Location((83.247254, 33.128673, 10))).rotate(Axis((83.247254, 33.128673, 10), (0, 0, 1)), EXTRUSION006_ONTO_RECTANGLE012_PLACEMENT_ANGLE))

    # Fusion002: union Extrusion007, Extrusion008, Extrusion009, Extrusion010, Extrusion011, Extrusion016, Extrusion015, Extrusion014, Extrusion013, Extrusion012, Extrusion001, Extrusion002, Extrusion003, Extrusion004, Extrusion005
    add(extrusion007.part)
    add(extrusion008_2.part)
    add(extrusion009_2.part)
    add(extrusion010_2.part)
    add(extrusion011_2.part)
    add(extrusion016_2.part)
    add(extrusion015_2.part)
    add(extrusion014_2.part)
    add(extrusion013.part)
    add(extrusion012_2.part)
    add(extrusion001_2.part)
    add(extrusion002_2.part)
    add(extrusion003_2.part)
    add(extrusion004_2.part)
    add(extrusion005_2.part)

    # Cut002003: cut Cut002002
    add(cut002002.part, mode=Mode.SUBTRACT)


solid = Compound([cylinder.part, tube.part, fusion001.part, cut002003_2.part])
